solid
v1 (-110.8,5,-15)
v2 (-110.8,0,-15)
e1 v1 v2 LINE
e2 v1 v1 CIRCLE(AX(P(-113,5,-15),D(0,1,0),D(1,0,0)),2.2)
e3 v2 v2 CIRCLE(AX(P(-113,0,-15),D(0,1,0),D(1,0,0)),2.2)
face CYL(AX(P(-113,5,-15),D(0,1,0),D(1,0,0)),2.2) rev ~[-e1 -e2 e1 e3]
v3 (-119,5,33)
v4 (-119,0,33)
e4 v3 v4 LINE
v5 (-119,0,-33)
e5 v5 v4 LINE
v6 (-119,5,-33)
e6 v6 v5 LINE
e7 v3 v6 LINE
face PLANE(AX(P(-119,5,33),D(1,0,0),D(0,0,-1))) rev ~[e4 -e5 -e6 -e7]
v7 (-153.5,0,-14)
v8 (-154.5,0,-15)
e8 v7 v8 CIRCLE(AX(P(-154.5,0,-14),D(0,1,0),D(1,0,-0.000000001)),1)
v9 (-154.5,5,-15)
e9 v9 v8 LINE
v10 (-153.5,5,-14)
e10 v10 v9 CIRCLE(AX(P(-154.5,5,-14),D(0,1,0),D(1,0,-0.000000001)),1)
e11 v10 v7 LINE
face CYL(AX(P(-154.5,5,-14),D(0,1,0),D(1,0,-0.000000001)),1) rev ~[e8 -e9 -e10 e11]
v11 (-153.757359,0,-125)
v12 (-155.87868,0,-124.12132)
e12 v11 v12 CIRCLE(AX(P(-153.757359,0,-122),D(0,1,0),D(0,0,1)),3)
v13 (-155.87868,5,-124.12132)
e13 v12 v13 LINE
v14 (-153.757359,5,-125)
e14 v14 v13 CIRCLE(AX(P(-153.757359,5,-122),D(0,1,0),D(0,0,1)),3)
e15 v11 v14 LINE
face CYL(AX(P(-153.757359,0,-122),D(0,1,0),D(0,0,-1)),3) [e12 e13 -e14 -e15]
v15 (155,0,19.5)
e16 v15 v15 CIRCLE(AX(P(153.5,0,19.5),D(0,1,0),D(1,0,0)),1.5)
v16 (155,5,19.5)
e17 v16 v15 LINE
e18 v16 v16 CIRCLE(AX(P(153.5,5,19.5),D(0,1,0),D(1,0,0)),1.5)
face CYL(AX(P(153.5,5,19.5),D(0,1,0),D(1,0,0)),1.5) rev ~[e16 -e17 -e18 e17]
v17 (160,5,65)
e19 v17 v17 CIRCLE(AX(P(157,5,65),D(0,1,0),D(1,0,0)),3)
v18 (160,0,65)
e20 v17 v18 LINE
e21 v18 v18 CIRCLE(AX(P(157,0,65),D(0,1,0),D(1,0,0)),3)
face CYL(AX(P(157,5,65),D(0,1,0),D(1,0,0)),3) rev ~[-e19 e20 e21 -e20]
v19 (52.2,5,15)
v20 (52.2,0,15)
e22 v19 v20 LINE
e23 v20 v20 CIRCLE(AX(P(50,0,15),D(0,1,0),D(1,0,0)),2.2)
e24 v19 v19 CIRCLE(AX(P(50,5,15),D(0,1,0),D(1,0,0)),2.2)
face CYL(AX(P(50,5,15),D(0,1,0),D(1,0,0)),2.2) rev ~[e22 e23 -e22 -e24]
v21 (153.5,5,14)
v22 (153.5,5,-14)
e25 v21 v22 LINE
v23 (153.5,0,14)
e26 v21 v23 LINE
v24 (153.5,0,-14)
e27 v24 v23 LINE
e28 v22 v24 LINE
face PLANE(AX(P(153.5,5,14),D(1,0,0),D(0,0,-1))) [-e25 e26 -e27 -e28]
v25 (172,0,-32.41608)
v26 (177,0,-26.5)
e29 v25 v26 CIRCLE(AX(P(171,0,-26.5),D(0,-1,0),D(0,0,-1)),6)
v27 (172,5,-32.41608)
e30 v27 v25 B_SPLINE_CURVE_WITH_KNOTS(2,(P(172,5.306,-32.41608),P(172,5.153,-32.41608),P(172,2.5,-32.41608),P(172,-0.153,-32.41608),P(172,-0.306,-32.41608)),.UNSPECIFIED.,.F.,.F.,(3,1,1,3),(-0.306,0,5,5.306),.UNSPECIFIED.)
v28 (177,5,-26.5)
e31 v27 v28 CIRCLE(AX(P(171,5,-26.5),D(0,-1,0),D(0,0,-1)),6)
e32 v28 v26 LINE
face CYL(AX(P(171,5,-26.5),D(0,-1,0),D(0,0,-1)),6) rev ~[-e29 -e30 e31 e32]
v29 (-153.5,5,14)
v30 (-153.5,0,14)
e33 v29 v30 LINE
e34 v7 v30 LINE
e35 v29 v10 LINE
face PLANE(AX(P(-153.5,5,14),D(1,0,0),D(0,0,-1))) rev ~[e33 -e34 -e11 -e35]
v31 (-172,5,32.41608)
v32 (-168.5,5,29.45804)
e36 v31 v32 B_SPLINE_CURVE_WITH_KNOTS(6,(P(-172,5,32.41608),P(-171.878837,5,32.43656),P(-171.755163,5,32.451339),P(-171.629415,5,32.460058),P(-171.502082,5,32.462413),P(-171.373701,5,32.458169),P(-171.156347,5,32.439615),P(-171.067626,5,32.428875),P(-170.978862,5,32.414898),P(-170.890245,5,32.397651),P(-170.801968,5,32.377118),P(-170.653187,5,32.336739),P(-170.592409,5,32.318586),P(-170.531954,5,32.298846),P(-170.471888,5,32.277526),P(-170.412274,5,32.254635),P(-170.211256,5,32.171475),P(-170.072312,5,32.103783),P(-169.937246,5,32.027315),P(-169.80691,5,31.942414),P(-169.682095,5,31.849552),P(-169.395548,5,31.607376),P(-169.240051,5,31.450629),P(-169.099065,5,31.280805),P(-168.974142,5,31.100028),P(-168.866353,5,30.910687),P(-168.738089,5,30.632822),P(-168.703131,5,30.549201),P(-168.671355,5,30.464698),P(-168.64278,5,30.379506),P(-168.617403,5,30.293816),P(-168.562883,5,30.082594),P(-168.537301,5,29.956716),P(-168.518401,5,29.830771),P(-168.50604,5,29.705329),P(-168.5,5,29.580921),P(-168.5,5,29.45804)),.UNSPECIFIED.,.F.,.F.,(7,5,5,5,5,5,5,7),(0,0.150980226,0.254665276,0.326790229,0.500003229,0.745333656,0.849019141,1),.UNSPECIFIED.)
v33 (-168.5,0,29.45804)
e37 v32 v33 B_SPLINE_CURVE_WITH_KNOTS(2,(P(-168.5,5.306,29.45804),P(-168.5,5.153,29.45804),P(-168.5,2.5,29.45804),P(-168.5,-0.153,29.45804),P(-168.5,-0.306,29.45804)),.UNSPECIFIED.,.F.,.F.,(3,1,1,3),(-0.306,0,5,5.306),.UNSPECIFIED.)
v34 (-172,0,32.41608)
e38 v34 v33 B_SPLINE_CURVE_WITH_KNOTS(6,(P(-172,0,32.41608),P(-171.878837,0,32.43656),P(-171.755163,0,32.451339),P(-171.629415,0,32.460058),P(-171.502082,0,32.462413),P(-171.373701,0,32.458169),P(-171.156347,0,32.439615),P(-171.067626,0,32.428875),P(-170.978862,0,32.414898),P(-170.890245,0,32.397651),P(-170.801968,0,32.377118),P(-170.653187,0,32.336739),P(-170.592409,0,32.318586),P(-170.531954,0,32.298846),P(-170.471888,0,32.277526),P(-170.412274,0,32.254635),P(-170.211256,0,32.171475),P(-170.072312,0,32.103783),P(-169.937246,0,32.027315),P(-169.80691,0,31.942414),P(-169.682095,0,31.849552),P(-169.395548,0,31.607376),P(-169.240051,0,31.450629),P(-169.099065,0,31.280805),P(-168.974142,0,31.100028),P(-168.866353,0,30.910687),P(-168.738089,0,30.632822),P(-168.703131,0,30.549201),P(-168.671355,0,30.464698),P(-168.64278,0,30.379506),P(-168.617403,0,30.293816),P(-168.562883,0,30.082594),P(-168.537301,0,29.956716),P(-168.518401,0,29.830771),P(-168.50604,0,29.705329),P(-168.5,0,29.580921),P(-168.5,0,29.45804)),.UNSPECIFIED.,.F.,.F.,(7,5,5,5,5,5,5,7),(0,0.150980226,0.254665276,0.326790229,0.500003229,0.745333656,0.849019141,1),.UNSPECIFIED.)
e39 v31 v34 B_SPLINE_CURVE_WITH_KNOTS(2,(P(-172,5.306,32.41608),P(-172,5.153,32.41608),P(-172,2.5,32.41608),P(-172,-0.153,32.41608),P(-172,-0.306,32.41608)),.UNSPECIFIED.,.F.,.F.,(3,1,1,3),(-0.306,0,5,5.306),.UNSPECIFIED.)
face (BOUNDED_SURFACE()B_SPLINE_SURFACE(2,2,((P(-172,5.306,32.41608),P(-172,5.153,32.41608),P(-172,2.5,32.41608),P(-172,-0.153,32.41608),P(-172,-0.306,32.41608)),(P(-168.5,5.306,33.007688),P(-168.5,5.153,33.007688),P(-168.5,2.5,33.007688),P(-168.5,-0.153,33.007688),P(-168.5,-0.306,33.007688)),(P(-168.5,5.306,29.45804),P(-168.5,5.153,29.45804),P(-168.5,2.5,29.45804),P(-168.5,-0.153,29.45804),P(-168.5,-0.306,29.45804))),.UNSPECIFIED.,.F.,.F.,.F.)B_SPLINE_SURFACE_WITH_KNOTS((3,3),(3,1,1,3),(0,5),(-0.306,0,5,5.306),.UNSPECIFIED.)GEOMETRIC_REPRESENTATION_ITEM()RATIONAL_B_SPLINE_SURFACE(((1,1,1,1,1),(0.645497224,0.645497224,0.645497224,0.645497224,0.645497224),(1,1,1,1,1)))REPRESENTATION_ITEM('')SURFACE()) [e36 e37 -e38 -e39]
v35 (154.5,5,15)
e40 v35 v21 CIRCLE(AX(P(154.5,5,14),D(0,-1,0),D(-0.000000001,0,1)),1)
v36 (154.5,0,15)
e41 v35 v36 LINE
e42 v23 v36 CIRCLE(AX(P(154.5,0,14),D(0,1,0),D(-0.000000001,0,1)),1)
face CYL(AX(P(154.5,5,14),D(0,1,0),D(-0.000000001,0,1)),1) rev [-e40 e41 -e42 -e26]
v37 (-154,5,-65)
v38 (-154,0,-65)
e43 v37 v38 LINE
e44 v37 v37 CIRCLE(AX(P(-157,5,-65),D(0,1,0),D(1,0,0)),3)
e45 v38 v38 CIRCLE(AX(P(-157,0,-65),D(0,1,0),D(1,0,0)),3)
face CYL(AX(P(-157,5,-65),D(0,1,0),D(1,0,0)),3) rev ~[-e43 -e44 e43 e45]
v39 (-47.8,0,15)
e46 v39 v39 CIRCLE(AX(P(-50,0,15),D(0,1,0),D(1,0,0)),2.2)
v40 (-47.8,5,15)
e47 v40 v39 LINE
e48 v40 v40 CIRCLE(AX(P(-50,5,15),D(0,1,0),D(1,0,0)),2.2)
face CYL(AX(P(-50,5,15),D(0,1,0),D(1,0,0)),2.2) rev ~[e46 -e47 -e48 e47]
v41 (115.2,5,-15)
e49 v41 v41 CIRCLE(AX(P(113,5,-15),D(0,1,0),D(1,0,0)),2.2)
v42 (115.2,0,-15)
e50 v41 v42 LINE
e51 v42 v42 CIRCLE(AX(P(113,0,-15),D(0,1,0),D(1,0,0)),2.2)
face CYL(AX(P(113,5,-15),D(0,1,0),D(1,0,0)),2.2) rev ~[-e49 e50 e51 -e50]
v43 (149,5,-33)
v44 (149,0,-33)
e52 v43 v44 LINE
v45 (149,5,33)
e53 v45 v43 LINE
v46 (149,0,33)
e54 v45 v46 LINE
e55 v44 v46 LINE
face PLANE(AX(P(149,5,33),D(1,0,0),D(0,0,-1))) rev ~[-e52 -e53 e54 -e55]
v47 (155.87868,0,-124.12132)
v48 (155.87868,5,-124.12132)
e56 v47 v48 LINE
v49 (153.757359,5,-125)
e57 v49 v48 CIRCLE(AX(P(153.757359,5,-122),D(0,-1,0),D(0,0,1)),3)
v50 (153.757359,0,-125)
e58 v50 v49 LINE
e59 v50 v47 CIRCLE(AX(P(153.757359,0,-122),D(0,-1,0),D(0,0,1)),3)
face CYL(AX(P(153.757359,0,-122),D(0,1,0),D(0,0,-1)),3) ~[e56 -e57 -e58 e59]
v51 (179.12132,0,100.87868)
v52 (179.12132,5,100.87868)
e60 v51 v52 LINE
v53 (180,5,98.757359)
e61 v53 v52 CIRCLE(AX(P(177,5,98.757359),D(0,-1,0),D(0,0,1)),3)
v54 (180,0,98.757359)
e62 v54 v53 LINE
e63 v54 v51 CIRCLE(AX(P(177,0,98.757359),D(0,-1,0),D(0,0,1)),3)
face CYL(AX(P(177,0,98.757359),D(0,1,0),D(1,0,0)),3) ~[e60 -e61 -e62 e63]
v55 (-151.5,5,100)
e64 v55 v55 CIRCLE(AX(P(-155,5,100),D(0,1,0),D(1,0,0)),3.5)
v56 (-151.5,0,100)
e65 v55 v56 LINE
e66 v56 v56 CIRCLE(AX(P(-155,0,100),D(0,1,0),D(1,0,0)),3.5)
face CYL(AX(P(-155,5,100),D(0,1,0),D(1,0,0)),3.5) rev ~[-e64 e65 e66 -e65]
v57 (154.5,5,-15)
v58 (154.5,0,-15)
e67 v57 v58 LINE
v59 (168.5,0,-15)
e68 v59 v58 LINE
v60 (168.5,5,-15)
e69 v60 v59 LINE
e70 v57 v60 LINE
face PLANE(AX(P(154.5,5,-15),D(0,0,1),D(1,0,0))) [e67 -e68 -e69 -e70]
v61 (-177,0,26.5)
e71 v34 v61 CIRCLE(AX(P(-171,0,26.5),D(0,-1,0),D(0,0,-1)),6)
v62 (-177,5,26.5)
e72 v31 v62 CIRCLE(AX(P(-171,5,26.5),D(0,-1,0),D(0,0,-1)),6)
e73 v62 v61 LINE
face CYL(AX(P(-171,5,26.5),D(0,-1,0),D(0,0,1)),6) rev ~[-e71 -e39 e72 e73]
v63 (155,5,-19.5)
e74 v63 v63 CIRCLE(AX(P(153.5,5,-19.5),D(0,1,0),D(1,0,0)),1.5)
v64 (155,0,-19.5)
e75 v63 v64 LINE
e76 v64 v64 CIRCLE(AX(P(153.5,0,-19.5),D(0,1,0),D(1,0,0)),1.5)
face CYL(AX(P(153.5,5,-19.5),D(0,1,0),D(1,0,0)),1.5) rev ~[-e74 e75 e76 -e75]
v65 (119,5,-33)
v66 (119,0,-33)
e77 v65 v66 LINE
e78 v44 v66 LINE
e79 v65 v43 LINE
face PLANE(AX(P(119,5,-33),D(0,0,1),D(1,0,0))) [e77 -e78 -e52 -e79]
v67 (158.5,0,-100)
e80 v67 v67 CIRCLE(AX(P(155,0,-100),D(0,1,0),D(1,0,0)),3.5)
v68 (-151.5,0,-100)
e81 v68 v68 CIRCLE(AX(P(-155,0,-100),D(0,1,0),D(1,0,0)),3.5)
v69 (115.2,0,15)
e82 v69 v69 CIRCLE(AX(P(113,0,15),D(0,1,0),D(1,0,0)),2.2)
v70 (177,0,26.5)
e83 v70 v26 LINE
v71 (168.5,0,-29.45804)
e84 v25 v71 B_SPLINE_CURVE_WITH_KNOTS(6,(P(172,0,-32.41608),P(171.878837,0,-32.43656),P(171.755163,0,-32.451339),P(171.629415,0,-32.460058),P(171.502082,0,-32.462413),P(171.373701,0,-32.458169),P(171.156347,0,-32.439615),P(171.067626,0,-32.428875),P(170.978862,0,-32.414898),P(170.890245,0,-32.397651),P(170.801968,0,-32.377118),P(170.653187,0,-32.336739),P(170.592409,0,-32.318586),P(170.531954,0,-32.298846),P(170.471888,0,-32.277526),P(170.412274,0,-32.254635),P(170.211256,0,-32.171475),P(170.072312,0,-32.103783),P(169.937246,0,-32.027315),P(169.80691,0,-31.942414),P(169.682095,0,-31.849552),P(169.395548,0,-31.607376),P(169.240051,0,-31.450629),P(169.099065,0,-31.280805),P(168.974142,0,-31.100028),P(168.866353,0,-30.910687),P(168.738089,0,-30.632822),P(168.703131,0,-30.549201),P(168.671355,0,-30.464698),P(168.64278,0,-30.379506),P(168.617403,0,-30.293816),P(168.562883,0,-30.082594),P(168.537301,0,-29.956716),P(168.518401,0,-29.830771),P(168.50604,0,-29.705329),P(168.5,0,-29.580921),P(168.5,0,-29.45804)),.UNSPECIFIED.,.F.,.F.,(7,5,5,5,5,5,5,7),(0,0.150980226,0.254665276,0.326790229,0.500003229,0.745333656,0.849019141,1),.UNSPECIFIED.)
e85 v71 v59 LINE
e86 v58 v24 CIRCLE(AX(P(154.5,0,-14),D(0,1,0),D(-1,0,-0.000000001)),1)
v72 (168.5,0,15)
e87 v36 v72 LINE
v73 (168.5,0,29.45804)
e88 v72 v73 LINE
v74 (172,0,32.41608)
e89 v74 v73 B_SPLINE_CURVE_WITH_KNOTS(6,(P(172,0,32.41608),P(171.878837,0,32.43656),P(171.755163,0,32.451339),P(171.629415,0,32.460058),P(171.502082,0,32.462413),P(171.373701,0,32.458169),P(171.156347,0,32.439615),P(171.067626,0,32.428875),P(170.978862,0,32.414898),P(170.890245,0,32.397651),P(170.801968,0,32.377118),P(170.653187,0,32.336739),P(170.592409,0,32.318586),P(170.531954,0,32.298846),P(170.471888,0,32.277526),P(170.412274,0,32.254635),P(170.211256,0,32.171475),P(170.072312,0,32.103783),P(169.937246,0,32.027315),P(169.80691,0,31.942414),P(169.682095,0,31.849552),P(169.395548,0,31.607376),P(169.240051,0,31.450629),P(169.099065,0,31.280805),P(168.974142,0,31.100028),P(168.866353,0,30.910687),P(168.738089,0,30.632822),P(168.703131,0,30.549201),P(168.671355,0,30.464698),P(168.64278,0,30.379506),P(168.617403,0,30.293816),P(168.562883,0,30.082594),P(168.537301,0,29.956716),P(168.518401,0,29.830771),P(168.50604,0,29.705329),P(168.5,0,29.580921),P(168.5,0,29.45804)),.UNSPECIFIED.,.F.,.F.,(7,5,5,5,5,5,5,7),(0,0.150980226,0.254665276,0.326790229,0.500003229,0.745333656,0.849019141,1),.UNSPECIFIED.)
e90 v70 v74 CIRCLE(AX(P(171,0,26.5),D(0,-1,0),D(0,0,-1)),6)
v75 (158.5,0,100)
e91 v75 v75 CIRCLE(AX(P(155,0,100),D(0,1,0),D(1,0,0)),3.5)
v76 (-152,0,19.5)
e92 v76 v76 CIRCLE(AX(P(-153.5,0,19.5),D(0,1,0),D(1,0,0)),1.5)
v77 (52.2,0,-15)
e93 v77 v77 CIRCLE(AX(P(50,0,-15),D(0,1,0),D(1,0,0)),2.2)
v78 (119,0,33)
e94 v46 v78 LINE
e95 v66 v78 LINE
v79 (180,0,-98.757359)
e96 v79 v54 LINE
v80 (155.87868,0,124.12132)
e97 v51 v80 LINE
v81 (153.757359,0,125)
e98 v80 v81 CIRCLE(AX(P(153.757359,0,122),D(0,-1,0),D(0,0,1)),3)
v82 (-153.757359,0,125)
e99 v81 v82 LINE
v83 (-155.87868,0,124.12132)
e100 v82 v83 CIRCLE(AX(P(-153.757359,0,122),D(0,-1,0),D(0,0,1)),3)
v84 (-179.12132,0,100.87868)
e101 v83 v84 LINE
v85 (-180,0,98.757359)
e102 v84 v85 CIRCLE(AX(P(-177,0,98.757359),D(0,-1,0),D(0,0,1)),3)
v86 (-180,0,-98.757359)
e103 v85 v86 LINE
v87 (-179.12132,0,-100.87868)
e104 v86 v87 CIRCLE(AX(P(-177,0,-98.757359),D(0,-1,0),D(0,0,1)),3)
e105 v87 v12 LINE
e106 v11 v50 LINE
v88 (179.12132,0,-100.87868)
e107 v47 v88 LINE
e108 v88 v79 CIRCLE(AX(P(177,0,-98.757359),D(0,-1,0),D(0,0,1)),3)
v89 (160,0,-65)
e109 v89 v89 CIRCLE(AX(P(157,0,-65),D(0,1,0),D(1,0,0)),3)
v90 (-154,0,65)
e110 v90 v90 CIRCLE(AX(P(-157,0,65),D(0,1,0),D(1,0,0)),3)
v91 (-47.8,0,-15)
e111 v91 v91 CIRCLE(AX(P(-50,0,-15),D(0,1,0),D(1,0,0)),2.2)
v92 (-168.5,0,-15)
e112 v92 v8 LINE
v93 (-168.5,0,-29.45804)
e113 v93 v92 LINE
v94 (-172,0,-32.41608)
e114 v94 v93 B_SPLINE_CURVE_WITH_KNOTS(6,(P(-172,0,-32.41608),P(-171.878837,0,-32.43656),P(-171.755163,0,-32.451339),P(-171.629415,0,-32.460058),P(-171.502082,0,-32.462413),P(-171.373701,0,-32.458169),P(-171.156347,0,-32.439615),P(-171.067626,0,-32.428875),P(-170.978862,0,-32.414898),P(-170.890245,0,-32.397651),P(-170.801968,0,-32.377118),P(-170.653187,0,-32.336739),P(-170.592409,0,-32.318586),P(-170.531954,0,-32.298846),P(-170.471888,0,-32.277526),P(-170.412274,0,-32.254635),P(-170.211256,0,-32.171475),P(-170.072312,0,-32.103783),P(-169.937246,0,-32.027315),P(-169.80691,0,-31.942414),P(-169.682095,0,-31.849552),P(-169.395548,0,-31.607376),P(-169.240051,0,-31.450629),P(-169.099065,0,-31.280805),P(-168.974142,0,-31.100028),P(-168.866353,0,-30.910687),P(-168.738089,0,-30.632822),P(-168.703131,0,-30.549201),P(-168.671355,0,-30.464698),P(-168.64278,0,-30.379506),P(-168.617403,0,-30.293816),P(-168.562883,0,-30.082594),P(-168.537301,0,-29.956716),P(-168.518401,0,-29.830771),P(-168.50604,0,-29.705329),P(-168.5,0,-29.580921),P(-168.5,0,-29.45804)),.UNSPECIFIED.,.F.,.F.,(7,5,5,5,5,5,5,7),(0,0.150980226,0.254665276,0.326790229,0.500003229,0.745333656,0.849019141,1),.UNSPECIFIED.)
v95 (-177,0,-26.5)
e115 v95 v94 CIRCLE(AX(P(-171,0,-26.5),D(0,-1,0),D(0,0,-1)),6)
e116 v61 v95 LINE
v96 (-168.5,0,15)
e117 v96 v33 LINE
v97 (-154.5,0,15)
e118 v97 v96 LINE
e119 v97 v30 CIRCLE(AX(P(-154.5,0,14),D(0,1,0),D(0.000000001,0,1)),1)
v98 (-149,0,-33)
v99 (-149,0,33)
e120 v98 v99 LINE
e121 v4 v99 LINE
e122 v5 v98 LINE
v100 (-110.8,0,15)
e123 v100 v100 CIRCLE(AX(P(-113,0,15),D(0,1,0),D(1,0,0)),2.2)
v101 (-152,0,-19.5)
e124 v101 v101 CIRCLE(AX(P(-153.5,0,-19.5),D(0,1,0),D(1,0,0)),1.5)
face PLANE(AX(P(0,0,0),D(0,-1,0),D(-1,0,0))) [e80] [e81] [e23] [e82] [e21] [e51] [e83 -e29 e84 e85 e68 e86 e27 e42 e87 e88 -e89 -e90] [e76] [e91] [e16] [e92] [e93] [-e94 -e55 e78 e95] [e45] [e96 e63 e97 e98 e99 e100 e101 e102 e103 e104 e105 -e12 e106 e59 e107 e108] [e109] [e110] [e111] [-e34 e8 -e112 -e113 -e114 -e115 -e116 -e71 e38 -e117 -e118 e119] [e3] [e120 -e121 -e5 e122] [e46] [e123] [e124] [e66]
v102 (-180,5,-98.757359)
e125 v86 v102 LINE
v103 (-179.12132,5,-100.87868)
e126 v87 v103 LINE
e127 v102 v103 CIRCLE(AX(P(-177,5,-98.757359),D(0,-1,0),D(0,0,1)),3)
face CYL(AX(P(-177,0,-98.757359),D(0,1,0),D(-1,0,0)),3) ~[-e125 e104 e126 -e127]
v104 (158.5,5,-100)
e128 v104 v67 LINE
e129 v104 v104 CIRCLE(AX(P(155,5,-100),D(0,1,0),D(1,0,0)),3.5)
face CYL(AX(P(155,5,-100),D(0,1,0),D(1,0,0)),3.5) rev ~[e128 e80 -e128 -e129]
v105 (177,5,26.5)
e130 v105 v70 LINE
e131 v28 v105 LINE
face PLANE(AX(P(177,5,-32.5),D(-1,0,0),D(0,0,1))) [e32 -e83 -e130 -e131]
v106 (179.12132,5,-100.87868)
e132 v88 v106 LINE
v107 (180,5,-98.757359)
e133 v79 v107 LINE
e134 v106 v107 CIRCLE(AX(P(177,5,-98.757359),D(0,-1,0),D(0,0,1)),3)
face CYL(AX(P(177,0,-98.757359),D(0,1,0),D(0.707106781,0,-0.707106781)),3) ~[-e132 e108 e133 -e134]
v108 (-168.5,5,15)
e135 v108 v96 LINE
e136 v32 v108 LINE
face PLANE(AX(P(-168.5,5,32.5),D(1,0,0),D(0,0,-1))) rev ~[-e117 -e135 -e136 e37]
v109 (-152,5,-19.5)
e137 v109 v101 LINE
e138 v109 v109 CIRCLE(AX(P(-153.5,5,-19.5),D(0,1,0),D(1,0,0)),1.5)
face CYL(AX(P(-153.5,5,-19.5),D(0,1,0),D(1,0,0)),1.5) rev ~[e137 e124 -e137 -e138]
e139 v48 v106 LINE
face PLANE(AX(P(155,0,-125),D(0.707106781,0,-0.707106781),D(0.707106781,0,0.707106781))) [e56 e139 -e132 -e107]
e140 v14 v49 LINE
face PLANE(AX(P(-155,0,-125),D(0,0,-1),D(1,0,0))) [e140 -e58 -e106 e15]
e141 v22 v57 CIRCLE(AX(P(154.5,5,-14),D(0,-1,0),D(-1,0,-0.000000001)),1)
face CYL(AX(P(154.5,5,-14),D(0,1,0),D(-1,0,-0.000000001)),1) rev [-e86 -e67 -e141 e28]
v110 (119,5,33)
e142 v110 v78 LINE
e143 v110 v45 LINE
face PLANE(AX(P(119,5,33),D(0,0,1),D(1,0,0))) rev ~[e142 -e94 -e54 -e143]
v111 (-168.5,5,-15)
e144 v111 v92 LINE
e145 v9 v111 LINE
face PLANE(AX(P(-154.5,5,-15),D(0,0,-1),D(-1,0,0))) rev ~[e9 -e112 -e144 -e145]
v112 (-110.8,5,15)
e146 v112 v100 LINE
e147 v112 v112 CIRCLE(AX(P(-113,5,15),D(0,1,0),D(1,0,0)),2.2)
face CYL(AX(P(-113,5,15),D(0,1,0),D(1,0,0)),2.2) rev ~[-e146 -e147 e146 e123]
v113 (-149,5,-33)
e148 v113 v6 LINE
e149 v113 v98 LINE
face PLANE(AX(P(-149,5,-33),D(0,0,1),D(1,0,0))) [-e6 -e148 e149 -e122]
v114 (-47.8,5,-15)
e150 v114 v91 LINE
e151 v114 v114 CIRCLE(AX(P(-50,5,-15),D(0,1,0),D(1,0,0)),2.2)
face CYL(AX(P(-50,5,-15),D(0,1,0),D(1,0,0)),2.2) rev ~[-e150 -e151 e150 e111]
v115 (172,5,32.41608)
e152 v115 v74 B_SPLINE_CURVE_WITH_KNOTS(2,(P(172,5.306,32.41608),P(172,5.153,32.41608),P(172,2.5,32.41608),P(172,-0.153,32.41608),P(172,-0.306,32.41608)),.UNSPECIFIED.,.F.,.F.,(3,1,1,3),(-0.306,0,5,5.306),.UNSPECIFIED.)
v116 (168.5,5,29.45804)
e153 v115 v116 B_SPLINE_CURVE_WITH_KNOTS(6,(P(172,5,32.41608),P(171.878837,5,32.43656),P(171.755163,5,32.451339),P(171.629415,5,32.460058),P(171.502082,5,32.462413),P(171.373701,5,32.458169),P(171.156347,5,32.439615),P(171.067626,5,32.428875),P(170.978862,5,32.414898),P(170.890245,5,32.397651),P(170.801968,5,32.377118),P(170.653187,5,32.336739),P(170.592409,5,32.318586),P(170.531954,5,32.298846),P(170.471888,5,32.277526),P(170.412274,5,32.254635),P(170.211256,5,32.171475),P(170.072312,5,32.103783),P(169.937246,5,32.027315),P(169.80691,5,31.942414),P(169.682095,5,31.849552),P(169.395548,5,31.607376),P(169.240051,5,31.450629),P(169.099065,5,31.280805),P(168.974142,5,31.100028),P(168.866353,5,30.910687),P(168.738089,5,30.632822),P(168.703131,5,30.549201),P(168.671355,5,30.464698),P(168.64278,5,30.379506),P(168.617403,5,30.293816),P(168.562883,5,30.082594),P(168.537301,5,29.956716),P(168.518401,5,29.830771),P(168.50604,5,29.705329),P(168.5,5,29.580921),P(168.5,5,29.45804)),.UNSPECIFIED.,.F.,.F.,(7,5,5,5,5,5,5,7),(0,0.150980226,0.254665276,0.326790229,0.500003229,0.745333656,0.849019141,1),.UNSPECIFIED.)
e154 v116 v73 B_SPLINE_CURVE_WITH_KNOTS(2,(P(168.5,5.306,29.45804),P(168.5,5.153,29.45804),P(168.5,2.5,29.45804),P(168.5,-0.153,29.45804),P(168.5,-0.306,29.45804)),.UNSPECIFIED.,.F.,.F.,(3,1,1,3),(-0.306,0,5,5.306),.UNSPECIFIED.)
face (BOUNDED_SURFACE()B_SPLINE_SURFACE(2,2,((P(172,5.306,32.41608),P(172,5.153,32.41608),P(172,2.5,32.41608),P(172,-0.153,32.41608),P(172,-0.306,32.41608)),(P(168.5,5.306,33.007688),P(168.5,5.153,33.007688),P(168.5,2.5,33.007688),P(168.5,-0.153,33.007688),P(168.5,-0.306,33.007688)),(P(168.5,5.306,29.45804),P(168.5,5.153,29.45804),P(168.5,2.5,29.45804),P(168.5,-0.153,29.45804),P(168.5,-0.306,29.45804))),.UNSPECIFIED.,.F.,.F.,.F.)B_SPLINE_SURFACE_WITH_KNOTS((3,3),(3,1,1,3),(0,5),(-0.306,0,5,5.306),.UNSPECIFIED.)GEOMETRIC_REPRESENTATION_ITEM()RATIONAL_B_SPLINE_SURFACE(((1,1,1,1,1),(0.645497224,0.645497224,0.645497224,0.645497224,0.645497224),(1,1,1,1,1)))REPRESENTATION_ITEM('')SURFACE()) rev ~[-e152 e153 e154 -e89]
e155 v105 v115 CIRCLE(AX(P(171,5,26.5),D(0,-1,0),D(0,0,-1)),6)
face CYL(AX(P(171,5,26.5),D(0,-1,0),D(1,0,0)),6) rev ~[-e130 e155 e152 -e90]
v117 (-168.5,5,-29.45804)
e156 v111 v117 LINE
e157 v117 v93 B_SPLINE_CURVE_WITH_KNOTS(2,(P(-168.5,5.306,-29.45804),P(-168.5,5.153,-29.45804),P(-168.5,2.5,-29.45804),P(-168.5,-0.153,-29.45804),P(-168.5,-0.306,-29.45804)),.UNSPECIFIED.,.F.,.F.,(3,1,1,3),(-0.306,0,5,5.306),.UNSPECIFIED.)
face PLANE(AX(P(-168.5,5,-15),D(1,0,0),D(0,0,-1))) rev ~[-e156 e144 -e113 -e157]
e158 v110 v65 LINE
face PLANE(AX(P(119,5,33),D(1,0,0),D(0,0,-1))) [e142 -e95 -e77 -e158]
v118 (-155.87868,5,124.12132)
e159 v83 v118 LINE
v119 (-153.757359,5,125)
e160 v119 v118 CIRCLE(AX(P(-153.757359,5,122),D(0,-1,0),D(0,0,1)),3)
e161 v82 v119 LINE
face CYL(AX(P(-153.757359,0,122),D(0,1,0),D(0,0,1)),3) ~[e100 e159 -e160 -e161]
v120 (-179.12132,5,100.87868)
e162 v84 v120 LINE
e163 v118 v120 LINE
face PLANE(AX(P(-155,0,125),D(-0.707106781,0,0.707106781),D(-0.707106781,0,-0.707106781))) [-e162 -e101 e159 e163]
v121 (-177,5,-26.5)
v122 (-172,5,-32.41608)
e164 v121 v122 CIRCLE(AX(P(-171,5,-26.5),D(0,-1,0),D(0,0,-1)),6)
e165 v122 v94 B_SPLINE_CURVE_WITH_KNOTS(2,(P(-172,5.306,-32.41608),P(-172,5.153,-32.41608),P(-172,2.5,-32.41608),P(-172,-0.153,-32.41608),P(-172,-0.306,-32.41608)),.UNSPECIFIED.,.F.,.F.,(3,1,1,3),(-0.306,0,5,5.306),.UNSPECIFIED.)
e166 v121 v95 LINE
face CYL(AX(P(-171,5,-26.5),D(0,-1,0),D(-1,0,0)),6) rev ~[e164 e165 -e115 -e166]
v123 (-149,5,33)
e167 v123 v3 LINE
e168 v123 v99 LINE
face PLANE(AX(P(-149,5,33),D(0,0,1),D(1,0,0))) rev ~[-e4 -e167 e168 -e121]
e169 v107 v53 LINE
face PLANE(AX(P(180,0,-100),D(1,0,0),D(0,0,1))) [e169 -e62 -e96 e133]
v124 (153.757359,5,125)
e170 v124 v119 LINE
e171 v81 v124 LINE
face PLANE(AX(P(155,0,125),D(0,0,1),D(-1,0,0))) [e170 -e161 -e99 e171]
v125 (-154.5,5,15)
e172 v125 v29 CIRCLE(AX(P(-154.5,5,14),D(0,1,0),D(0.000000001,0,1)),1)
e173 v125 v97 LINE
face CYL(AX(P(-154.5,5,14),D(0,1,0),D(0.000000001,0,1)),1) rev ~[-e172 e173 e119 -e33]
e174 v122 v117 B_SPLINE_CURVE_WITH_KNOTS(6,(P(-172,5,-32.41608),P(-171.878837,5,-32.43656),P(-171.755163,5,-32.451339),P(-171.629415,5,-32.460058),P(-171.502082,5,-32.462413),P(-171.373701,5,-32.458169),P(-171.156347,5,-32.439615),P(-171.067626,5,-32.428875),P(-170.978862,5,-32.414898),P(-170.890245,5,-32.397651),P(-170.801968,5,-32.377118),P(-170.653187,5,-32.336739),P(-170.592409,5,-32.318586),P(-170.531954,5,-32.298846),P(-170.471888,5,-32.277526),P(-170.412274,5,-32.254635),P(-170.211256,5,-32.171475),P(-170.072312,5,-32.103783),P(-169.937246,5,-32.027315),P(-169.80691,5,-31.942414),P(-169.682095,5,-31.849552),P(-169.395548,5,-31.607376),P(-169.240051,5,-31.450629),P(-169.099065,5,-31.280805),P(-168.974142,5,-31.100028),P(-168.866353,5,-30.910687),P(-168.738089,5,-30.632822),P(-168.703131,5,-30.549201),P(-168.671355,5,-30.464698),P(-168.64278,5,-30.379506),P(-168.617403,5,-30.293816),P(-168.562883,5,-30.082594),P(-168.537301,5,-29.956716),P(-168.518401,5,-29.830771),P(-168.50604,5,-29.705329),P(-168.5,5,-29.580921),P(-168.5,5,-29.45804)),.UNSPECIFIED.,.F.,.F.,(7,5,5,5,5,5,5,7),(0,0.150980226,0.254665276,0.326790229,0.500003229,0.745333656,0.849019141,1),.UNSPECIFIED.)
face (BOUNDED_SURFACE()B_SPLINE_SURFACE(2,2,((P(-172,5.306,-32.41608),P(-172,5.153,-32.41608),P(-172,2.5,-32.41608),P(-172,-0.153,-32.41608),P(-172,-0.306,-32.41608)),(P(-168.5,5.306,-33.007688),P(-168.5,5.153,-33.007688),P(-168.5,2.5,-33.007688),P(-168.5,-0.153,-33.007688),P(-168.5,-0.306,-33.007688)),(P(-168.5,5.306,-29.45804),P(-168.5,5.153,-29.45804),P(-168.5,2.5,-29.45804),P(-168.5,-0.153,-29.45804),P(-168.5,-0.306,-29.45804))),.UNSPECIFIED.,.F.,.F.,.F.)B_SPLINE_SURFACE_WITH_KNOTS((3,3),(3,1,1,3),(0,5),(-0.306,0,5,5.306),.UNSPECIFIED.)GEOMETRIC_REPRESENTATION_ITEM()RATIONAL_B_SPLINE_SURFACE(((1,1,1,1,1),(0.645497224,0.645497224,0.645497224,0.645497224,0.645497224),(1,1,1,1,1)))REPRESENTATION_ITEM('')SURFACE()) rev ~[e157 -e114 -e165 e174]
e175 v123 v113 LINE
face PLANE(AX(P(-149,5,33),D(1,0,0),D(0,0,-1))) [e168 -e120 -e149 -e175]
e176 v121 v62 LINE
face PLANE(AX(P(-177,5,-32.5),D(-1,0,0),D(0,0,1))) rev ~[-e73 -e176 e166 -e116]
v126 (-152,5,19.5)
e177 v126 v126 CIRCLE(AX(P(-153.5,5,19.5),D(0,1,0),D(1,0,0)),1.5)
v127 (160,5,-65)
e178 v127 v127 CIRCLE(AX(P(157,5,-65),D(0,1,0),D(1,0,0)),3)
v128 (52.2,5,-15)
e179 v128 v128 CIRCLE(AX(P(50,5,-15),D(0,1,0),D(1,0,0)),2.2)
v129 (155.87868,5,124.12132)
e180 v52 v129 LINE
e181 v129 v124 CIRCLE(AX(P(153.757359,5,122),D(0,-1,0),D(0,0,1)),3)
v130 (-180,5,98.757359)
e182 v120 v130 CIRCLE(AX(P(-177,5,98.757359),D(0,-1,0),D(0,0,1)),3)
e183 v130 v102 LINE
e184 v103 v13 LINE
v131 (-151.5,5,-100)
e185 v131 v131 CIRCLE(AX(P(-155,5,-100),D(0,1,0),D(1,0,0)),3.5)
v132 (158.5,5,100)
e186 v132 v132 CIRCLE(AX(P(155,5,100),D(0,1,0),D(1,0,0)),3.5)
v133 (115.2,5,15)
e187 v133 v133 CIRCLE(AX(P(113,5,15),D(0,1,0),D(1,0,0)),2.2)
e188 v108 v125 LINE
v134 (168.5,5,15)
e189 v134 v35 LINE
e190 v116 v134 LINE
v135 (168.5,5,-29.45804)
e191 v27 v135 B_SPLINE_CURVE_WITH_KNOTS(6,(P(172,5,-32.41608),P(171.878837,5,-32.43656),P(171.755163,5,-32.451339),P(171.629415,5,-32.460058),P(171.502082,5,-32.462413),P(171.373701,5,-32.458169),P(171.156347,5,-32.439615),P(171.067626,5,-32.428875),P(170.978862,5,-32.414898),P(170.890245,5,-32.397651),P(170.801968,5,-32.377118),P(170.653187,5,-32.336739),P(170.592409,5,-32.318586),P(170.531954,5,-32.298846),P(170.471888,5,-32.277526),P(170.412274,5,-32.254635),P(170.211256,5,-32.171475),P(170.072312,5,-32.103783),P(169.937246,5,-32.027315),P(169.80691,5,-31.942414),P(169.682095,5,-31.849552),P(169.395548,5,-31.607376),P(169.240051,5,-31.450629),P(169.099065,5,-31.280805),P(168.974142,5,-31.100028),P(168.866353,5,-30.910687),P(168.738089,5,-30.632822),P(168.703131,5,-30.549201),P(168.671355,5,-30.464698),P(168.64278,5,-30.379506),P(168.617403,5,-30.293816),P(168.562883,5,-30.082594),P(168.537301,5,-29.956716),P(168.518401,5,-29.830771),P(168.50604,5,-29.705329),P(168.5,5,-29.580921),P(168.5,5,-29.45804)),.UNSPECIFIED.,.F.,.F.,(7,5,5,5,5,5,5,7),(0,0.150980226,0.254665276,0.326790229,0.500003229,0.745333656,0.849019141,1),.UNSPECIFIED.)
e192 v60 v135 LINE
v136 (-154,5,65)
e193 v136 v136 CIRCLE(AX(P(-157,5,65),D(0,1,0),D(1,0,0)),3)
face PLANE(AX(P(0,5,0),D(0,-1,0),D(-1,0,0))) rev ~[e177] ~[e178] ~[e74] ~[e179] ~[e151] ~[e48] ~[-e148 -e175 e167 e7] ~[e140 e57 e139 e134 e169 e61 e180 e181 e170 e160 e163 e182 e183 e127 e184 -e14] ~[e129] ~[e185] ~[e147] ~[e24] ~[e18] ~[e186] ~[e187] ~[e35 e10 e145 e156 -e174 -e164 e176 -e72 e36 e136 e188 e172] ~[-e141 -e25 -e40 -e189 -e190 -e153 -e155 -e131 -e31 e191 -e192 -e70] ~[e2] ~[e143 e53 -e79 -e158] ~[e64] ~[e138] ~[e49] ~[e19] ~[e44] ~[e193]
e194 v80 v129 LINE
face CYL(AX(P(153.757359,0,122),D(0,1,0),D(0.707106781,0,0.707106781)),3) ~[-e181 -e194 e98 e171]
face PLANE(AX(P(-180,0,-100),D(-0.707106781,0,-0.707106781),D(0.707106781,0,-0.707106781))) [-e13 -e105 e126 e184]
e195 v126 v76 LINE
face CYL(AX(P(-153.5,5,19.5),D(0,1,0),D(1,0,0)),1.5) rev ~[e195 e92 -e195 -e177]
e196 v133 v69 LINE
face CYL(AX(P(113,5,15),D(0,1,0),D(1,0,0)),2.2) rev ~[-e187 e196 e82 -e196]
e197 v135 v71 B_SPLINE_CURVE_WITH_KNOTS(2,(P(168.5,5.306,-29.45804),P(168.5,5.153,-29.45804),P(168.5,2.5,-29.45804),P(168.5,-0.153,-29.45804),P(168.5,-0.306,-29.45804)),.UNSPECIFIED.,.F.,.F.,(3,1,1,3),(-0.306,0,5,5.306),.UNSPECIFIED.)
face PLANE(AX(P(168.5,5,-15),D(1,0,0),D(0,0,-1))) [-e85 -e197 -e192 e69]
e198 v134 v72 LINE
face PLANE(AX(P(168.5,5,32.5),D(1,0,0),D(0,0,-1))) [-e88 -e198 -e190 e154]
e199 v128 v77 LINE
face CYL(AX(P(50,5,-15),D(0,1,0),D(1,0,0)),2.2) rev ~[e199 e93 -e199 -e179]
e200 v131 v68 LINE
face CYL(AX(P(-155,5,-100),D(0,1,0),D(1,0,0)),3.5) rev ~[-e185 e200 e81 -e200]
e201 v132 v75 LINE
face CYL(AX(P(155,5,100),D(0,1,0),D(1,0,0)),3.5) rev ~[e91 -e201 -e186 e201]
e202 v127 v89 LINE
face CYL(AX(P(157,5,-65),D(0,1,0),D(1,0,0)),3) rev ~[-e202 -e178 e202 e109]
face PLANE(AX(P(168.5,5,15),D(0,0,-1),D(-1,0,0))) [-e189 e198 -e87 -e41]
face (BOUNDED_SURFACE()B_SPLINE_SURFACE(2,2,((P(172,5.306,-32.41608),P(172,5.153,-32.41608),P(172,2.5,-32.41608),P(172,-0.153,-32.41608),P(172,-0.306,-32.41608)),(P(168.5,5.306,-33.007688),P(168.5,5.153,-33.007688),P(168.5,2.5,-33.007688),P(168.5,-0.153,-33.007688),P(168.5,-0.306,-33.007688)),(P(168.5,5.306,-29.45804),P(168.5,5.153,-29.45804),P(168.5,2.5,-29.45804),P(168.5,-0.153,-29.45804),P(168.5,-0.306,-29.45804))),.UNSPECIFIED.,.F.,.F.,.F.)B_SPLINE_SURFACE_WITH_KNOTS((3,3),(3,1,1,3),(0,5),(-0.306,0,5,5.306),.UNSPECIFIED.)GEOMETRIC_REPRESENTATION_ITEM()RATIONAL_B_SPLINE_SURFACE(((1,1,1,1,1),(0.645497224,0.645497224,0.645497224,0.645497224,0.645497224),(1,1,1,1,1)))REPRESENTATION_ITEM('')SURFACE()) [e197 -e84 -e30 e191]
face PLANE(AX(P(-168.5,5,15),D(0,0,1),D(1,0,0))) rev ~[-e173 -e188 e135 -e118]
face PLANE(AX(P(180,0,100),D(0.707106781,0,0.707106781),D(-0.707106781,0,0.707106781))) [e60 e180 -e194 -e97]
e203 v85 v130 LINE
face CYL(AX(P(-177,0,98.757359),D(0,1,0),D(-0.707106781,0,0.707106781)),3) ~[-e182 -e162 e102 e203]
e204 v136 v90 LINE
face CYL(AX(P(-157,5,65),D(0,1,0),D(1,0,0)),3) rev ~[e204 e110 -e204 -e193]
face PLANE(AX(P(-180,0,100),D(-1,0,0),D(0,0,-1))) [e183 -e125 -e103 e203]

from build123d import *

# Parameters (mm, degrees)
BOSS_EXTRU_1_DEPTH         = 5
CONG_1_R                   = 3
ESQUISSE2_R                = 3
PER_AGE_PROFIL_DEPTH       = 6
ESQUISSE3_R                = 1.5
PER_AGE_ENCODEUR_DEPTH     = 6
POCHE_ROUE_ENCODEUSE_DEPTH = 6
CONG_2_R                   = 6
CONG_3_R                   = 3
ESQUISSE5_R                = 2.2
PER_AGE_BLOC_MOTEUR_DEPTH  = 6.0000001
ESQUISSE6_W                = 30
ESQUISSE6_H                = 66
POCHE_ROUE_MOTRICE_DEPTH   = 6.0000001
ESQUISSE7_R                = 3.5
PER_AGE_PATIN_DEPTH        = 6.0000001


with BuildPart() as part:
    # Esquisse1 → Boss.-Extru.1 (new body)
    with BuildSketch(Plane(origin=(0, 0, 0), x_dir=(1, 0, 0), z_dir=(0, 1, 0))):
        Polygon((-155, 125), (155, 125), (180, 100), (180, -100), (155, -125), (-155, -125), (-180, -100), (-180, 100), align=None)
    extrude(amount=BOSS_EXTRU_1_DEPTH)

    # Congé1
    cong_1_edges = [part.edges().sort_by_distance(p)[0] for p in [
        (180, 2.5, -100),
        (180, 2.5, 100),
        (155, 2.5, 125),
        (-155, 2.5, 125),
        (-180, 2.5, 100),
        (-180, 2.5, -100),
        (-155, 2.5, -125),
        (155, 2.5, -125),
    ]]
    fillet(cong_1_edges, radius=CONG_1_R)

    # Esquisse2 → Perçage Profilé (cut, through all)
    with BuildSketch(Plane(origin=(0, 5, 0), x_dir=(1, 0, 0), z_dir=(0, 1, 0))):
        with Locations((-157, -65)):
            Circle(ESQUISSE2_R)
        with Locations((-157, 65)):
            Circle(ESQUISSE2_R)
        with Locations((157, -65)):
            Circle(ESQUISSE2_R)
        with Locations((157, 65)):
            Circle(ESQUISSE2_R)
    extrude(amount=-PER_AGE_PROFIL_DEPTH, mode=Mode.SUBTRACT)

    # Esquisse3 → Perçage Encodeur (cut, through all)
    with BuildSketch(Plane(origin=(0, 5, 0), x_dir=(1, 0, 0), z_dir=(0, 1, 0))):
        with Locations((-153.5, 19.5)):
            Circle(ESQUISSE3_R)
        with Locations((-153.5, -19.5)):
            Circle(ESQUISSE3_R)
        with Locations((153.5, -19.5)):
            Circle(ESQUISSE3_R)
        with Locations((153.5, 19.5)):
            Circle(ESQUISSE3_R)
    extrude(amount=-PER_AGE_ENCODEUR_DEPTH, mode=Mode.SUBTRACT)

    # Esquisse4 → Poche Roue Encodeuse (cut, through all)
    with BuildSketch(Plane(origin=(0, 5, 0), x_dir=(1, 0, 0), z_dir=(0, 1, 0))):
        with BuildLine():
            Line((168.5, -15), (154.5, -15))
            ThreePointArc((154.5, -15), (153.792893219, -14.707106781), (153.5, -14))
            Line((153.5, -14), (153.5, 14))
            ThreePointArc((153.5, 14), (153.792893219, 14.707106781), (154.5, 15))
            Line((154.5, 15), (168.5, 15))
            Line((168.5, 15), (168.5, 32.5))
            Line((168.5, 32.5), (177, 32.5))
            Line((177, 32.5), (177, -32.5))
            Line((177, -32.5), (168.5, -32.5))
            Line((168.5, -32.5), (168.5, -15))
        make_face()
        with BuildLine():
            Line((-153.5, -14), (-153.5, 14))
            ThreePointArc((-153.5, 14), (-153.792893219, 14.707106781), (-154.5, 15))
            Line((-154.5, 15), (-168.5, 15))
            Line((-168.5, 15), (-168.5, 32.5))
            Line((-168.5, 32.5), (-177, 32.5))
            Line((-177, 32.5), (-177, -32.5))
            Line((-177, -32.5), (-168.5, -32.5))
            Line((-168.5, -32.5), (-168.5, -15))
            Line((-168.5, -15), (-154.5, -15))
            ThreePointArc((-154.5, -15), (-153.792893219, -14.707106781), (-153.5, -14))
        make_face()
    extrude(amount=-POCHE_ROUE_ENCODEUSE_DEPTH, mode=Mode.SUBTRACT)

    # Congé2
    cong_2_edges = [part.edges().sort_by_distance(p)[0] for p in [
        (-177, 2.5, 32.5),
        (-177, 2.5, -32.5),
        (177, 2.5, -32.5),
        (177, 2.5, 32.5),
    ]]
    fillet(cong_2_edges, radius=CONG_2_R)

    # Congé3
    cong_3_edges = [part.edges().sort_by_distance(p)[0] for p in [
        (168.5, 2.5, 32.5),
        (168.5, 2.5, -32.5),
        (-168.5, 2.5, 32.5),
        (-168.5, 2.5, -32.5),
    ]]
    fillet(cong_3_edges, radius=CONG_3_R)

    # Esquisse5 → Perçage Bloc Moteur (cut, through all)
    with BuildSketch(Plane(origin=(0, 5, 0), x_dir=(1, 0, 0), z_dir=(0, 1, 0))):
        with Locations((-113, 15)):
            Circle(ESQUISSE5_R)
        with Locations((-113, -15)):
            Circle(ESQUISSE5_R)
        with Locations((-50, -15)):
            Circle(ESQUISSE5_R)
        with Locations((-50, 15)):
            Circle(ESQUISSE5_R)
        with Locations((50, 15)):
            Circle(ESQUISSE5_R)
        with Locations((50, -15)):
            Circle(ESQUISSE5_R)
        with Locations((113, -15)):
            Circle(ESQUISSE5_R)
        with Locations((113, 15)):
            Circle(ESQUISSE5_R)
    extrude(amount=-PER_AGE_BLOC_MOTEUR_DEPTH, mode=Mode.SUBTRACT)

    # Esquisse6 → Poche Roue Motrice (cut, through all)
    with BuildSketch(Plane(origin=(0, 5, 0), x_dir=(1, 0, 0), z_dir=(0, 1, 0))):
        with Locations((-134, 0)):
            Rectangle(ESQUISSE6_W, ESQUISSE6_H)
        with Locations((134, 0)):
            Rectangle(ESQUISSE6_W, ESQUISSE6_H)
    extrude(amount=-POCHE_ROUE_MOTRICE_DEPTH, mode=Mode.SUBTRACT)

    # Esquisse7 → Perçage Patin (cut, through all)
    with BuildSketch(Plane(origin=(0, 5, 0), x_dir=(1, 0, 0), z_dir=(0, 1, 0))):
        with Locations((-155, 100)):
            Circle(ESQUISSE7_R)
        with Locations((-155, -100)):
            Circle(ESQUISSE7_R)
        with Locations((155, -100)):
            Circle(ESQUISSE7_R)
        with Locations((155, 100)):
            Circle(ESQUISSE7_R)
    extrude(amount=-PER_AGE_PATIN_DEPTH, mode=Mode.SUBTRACT)


solid = part.part
